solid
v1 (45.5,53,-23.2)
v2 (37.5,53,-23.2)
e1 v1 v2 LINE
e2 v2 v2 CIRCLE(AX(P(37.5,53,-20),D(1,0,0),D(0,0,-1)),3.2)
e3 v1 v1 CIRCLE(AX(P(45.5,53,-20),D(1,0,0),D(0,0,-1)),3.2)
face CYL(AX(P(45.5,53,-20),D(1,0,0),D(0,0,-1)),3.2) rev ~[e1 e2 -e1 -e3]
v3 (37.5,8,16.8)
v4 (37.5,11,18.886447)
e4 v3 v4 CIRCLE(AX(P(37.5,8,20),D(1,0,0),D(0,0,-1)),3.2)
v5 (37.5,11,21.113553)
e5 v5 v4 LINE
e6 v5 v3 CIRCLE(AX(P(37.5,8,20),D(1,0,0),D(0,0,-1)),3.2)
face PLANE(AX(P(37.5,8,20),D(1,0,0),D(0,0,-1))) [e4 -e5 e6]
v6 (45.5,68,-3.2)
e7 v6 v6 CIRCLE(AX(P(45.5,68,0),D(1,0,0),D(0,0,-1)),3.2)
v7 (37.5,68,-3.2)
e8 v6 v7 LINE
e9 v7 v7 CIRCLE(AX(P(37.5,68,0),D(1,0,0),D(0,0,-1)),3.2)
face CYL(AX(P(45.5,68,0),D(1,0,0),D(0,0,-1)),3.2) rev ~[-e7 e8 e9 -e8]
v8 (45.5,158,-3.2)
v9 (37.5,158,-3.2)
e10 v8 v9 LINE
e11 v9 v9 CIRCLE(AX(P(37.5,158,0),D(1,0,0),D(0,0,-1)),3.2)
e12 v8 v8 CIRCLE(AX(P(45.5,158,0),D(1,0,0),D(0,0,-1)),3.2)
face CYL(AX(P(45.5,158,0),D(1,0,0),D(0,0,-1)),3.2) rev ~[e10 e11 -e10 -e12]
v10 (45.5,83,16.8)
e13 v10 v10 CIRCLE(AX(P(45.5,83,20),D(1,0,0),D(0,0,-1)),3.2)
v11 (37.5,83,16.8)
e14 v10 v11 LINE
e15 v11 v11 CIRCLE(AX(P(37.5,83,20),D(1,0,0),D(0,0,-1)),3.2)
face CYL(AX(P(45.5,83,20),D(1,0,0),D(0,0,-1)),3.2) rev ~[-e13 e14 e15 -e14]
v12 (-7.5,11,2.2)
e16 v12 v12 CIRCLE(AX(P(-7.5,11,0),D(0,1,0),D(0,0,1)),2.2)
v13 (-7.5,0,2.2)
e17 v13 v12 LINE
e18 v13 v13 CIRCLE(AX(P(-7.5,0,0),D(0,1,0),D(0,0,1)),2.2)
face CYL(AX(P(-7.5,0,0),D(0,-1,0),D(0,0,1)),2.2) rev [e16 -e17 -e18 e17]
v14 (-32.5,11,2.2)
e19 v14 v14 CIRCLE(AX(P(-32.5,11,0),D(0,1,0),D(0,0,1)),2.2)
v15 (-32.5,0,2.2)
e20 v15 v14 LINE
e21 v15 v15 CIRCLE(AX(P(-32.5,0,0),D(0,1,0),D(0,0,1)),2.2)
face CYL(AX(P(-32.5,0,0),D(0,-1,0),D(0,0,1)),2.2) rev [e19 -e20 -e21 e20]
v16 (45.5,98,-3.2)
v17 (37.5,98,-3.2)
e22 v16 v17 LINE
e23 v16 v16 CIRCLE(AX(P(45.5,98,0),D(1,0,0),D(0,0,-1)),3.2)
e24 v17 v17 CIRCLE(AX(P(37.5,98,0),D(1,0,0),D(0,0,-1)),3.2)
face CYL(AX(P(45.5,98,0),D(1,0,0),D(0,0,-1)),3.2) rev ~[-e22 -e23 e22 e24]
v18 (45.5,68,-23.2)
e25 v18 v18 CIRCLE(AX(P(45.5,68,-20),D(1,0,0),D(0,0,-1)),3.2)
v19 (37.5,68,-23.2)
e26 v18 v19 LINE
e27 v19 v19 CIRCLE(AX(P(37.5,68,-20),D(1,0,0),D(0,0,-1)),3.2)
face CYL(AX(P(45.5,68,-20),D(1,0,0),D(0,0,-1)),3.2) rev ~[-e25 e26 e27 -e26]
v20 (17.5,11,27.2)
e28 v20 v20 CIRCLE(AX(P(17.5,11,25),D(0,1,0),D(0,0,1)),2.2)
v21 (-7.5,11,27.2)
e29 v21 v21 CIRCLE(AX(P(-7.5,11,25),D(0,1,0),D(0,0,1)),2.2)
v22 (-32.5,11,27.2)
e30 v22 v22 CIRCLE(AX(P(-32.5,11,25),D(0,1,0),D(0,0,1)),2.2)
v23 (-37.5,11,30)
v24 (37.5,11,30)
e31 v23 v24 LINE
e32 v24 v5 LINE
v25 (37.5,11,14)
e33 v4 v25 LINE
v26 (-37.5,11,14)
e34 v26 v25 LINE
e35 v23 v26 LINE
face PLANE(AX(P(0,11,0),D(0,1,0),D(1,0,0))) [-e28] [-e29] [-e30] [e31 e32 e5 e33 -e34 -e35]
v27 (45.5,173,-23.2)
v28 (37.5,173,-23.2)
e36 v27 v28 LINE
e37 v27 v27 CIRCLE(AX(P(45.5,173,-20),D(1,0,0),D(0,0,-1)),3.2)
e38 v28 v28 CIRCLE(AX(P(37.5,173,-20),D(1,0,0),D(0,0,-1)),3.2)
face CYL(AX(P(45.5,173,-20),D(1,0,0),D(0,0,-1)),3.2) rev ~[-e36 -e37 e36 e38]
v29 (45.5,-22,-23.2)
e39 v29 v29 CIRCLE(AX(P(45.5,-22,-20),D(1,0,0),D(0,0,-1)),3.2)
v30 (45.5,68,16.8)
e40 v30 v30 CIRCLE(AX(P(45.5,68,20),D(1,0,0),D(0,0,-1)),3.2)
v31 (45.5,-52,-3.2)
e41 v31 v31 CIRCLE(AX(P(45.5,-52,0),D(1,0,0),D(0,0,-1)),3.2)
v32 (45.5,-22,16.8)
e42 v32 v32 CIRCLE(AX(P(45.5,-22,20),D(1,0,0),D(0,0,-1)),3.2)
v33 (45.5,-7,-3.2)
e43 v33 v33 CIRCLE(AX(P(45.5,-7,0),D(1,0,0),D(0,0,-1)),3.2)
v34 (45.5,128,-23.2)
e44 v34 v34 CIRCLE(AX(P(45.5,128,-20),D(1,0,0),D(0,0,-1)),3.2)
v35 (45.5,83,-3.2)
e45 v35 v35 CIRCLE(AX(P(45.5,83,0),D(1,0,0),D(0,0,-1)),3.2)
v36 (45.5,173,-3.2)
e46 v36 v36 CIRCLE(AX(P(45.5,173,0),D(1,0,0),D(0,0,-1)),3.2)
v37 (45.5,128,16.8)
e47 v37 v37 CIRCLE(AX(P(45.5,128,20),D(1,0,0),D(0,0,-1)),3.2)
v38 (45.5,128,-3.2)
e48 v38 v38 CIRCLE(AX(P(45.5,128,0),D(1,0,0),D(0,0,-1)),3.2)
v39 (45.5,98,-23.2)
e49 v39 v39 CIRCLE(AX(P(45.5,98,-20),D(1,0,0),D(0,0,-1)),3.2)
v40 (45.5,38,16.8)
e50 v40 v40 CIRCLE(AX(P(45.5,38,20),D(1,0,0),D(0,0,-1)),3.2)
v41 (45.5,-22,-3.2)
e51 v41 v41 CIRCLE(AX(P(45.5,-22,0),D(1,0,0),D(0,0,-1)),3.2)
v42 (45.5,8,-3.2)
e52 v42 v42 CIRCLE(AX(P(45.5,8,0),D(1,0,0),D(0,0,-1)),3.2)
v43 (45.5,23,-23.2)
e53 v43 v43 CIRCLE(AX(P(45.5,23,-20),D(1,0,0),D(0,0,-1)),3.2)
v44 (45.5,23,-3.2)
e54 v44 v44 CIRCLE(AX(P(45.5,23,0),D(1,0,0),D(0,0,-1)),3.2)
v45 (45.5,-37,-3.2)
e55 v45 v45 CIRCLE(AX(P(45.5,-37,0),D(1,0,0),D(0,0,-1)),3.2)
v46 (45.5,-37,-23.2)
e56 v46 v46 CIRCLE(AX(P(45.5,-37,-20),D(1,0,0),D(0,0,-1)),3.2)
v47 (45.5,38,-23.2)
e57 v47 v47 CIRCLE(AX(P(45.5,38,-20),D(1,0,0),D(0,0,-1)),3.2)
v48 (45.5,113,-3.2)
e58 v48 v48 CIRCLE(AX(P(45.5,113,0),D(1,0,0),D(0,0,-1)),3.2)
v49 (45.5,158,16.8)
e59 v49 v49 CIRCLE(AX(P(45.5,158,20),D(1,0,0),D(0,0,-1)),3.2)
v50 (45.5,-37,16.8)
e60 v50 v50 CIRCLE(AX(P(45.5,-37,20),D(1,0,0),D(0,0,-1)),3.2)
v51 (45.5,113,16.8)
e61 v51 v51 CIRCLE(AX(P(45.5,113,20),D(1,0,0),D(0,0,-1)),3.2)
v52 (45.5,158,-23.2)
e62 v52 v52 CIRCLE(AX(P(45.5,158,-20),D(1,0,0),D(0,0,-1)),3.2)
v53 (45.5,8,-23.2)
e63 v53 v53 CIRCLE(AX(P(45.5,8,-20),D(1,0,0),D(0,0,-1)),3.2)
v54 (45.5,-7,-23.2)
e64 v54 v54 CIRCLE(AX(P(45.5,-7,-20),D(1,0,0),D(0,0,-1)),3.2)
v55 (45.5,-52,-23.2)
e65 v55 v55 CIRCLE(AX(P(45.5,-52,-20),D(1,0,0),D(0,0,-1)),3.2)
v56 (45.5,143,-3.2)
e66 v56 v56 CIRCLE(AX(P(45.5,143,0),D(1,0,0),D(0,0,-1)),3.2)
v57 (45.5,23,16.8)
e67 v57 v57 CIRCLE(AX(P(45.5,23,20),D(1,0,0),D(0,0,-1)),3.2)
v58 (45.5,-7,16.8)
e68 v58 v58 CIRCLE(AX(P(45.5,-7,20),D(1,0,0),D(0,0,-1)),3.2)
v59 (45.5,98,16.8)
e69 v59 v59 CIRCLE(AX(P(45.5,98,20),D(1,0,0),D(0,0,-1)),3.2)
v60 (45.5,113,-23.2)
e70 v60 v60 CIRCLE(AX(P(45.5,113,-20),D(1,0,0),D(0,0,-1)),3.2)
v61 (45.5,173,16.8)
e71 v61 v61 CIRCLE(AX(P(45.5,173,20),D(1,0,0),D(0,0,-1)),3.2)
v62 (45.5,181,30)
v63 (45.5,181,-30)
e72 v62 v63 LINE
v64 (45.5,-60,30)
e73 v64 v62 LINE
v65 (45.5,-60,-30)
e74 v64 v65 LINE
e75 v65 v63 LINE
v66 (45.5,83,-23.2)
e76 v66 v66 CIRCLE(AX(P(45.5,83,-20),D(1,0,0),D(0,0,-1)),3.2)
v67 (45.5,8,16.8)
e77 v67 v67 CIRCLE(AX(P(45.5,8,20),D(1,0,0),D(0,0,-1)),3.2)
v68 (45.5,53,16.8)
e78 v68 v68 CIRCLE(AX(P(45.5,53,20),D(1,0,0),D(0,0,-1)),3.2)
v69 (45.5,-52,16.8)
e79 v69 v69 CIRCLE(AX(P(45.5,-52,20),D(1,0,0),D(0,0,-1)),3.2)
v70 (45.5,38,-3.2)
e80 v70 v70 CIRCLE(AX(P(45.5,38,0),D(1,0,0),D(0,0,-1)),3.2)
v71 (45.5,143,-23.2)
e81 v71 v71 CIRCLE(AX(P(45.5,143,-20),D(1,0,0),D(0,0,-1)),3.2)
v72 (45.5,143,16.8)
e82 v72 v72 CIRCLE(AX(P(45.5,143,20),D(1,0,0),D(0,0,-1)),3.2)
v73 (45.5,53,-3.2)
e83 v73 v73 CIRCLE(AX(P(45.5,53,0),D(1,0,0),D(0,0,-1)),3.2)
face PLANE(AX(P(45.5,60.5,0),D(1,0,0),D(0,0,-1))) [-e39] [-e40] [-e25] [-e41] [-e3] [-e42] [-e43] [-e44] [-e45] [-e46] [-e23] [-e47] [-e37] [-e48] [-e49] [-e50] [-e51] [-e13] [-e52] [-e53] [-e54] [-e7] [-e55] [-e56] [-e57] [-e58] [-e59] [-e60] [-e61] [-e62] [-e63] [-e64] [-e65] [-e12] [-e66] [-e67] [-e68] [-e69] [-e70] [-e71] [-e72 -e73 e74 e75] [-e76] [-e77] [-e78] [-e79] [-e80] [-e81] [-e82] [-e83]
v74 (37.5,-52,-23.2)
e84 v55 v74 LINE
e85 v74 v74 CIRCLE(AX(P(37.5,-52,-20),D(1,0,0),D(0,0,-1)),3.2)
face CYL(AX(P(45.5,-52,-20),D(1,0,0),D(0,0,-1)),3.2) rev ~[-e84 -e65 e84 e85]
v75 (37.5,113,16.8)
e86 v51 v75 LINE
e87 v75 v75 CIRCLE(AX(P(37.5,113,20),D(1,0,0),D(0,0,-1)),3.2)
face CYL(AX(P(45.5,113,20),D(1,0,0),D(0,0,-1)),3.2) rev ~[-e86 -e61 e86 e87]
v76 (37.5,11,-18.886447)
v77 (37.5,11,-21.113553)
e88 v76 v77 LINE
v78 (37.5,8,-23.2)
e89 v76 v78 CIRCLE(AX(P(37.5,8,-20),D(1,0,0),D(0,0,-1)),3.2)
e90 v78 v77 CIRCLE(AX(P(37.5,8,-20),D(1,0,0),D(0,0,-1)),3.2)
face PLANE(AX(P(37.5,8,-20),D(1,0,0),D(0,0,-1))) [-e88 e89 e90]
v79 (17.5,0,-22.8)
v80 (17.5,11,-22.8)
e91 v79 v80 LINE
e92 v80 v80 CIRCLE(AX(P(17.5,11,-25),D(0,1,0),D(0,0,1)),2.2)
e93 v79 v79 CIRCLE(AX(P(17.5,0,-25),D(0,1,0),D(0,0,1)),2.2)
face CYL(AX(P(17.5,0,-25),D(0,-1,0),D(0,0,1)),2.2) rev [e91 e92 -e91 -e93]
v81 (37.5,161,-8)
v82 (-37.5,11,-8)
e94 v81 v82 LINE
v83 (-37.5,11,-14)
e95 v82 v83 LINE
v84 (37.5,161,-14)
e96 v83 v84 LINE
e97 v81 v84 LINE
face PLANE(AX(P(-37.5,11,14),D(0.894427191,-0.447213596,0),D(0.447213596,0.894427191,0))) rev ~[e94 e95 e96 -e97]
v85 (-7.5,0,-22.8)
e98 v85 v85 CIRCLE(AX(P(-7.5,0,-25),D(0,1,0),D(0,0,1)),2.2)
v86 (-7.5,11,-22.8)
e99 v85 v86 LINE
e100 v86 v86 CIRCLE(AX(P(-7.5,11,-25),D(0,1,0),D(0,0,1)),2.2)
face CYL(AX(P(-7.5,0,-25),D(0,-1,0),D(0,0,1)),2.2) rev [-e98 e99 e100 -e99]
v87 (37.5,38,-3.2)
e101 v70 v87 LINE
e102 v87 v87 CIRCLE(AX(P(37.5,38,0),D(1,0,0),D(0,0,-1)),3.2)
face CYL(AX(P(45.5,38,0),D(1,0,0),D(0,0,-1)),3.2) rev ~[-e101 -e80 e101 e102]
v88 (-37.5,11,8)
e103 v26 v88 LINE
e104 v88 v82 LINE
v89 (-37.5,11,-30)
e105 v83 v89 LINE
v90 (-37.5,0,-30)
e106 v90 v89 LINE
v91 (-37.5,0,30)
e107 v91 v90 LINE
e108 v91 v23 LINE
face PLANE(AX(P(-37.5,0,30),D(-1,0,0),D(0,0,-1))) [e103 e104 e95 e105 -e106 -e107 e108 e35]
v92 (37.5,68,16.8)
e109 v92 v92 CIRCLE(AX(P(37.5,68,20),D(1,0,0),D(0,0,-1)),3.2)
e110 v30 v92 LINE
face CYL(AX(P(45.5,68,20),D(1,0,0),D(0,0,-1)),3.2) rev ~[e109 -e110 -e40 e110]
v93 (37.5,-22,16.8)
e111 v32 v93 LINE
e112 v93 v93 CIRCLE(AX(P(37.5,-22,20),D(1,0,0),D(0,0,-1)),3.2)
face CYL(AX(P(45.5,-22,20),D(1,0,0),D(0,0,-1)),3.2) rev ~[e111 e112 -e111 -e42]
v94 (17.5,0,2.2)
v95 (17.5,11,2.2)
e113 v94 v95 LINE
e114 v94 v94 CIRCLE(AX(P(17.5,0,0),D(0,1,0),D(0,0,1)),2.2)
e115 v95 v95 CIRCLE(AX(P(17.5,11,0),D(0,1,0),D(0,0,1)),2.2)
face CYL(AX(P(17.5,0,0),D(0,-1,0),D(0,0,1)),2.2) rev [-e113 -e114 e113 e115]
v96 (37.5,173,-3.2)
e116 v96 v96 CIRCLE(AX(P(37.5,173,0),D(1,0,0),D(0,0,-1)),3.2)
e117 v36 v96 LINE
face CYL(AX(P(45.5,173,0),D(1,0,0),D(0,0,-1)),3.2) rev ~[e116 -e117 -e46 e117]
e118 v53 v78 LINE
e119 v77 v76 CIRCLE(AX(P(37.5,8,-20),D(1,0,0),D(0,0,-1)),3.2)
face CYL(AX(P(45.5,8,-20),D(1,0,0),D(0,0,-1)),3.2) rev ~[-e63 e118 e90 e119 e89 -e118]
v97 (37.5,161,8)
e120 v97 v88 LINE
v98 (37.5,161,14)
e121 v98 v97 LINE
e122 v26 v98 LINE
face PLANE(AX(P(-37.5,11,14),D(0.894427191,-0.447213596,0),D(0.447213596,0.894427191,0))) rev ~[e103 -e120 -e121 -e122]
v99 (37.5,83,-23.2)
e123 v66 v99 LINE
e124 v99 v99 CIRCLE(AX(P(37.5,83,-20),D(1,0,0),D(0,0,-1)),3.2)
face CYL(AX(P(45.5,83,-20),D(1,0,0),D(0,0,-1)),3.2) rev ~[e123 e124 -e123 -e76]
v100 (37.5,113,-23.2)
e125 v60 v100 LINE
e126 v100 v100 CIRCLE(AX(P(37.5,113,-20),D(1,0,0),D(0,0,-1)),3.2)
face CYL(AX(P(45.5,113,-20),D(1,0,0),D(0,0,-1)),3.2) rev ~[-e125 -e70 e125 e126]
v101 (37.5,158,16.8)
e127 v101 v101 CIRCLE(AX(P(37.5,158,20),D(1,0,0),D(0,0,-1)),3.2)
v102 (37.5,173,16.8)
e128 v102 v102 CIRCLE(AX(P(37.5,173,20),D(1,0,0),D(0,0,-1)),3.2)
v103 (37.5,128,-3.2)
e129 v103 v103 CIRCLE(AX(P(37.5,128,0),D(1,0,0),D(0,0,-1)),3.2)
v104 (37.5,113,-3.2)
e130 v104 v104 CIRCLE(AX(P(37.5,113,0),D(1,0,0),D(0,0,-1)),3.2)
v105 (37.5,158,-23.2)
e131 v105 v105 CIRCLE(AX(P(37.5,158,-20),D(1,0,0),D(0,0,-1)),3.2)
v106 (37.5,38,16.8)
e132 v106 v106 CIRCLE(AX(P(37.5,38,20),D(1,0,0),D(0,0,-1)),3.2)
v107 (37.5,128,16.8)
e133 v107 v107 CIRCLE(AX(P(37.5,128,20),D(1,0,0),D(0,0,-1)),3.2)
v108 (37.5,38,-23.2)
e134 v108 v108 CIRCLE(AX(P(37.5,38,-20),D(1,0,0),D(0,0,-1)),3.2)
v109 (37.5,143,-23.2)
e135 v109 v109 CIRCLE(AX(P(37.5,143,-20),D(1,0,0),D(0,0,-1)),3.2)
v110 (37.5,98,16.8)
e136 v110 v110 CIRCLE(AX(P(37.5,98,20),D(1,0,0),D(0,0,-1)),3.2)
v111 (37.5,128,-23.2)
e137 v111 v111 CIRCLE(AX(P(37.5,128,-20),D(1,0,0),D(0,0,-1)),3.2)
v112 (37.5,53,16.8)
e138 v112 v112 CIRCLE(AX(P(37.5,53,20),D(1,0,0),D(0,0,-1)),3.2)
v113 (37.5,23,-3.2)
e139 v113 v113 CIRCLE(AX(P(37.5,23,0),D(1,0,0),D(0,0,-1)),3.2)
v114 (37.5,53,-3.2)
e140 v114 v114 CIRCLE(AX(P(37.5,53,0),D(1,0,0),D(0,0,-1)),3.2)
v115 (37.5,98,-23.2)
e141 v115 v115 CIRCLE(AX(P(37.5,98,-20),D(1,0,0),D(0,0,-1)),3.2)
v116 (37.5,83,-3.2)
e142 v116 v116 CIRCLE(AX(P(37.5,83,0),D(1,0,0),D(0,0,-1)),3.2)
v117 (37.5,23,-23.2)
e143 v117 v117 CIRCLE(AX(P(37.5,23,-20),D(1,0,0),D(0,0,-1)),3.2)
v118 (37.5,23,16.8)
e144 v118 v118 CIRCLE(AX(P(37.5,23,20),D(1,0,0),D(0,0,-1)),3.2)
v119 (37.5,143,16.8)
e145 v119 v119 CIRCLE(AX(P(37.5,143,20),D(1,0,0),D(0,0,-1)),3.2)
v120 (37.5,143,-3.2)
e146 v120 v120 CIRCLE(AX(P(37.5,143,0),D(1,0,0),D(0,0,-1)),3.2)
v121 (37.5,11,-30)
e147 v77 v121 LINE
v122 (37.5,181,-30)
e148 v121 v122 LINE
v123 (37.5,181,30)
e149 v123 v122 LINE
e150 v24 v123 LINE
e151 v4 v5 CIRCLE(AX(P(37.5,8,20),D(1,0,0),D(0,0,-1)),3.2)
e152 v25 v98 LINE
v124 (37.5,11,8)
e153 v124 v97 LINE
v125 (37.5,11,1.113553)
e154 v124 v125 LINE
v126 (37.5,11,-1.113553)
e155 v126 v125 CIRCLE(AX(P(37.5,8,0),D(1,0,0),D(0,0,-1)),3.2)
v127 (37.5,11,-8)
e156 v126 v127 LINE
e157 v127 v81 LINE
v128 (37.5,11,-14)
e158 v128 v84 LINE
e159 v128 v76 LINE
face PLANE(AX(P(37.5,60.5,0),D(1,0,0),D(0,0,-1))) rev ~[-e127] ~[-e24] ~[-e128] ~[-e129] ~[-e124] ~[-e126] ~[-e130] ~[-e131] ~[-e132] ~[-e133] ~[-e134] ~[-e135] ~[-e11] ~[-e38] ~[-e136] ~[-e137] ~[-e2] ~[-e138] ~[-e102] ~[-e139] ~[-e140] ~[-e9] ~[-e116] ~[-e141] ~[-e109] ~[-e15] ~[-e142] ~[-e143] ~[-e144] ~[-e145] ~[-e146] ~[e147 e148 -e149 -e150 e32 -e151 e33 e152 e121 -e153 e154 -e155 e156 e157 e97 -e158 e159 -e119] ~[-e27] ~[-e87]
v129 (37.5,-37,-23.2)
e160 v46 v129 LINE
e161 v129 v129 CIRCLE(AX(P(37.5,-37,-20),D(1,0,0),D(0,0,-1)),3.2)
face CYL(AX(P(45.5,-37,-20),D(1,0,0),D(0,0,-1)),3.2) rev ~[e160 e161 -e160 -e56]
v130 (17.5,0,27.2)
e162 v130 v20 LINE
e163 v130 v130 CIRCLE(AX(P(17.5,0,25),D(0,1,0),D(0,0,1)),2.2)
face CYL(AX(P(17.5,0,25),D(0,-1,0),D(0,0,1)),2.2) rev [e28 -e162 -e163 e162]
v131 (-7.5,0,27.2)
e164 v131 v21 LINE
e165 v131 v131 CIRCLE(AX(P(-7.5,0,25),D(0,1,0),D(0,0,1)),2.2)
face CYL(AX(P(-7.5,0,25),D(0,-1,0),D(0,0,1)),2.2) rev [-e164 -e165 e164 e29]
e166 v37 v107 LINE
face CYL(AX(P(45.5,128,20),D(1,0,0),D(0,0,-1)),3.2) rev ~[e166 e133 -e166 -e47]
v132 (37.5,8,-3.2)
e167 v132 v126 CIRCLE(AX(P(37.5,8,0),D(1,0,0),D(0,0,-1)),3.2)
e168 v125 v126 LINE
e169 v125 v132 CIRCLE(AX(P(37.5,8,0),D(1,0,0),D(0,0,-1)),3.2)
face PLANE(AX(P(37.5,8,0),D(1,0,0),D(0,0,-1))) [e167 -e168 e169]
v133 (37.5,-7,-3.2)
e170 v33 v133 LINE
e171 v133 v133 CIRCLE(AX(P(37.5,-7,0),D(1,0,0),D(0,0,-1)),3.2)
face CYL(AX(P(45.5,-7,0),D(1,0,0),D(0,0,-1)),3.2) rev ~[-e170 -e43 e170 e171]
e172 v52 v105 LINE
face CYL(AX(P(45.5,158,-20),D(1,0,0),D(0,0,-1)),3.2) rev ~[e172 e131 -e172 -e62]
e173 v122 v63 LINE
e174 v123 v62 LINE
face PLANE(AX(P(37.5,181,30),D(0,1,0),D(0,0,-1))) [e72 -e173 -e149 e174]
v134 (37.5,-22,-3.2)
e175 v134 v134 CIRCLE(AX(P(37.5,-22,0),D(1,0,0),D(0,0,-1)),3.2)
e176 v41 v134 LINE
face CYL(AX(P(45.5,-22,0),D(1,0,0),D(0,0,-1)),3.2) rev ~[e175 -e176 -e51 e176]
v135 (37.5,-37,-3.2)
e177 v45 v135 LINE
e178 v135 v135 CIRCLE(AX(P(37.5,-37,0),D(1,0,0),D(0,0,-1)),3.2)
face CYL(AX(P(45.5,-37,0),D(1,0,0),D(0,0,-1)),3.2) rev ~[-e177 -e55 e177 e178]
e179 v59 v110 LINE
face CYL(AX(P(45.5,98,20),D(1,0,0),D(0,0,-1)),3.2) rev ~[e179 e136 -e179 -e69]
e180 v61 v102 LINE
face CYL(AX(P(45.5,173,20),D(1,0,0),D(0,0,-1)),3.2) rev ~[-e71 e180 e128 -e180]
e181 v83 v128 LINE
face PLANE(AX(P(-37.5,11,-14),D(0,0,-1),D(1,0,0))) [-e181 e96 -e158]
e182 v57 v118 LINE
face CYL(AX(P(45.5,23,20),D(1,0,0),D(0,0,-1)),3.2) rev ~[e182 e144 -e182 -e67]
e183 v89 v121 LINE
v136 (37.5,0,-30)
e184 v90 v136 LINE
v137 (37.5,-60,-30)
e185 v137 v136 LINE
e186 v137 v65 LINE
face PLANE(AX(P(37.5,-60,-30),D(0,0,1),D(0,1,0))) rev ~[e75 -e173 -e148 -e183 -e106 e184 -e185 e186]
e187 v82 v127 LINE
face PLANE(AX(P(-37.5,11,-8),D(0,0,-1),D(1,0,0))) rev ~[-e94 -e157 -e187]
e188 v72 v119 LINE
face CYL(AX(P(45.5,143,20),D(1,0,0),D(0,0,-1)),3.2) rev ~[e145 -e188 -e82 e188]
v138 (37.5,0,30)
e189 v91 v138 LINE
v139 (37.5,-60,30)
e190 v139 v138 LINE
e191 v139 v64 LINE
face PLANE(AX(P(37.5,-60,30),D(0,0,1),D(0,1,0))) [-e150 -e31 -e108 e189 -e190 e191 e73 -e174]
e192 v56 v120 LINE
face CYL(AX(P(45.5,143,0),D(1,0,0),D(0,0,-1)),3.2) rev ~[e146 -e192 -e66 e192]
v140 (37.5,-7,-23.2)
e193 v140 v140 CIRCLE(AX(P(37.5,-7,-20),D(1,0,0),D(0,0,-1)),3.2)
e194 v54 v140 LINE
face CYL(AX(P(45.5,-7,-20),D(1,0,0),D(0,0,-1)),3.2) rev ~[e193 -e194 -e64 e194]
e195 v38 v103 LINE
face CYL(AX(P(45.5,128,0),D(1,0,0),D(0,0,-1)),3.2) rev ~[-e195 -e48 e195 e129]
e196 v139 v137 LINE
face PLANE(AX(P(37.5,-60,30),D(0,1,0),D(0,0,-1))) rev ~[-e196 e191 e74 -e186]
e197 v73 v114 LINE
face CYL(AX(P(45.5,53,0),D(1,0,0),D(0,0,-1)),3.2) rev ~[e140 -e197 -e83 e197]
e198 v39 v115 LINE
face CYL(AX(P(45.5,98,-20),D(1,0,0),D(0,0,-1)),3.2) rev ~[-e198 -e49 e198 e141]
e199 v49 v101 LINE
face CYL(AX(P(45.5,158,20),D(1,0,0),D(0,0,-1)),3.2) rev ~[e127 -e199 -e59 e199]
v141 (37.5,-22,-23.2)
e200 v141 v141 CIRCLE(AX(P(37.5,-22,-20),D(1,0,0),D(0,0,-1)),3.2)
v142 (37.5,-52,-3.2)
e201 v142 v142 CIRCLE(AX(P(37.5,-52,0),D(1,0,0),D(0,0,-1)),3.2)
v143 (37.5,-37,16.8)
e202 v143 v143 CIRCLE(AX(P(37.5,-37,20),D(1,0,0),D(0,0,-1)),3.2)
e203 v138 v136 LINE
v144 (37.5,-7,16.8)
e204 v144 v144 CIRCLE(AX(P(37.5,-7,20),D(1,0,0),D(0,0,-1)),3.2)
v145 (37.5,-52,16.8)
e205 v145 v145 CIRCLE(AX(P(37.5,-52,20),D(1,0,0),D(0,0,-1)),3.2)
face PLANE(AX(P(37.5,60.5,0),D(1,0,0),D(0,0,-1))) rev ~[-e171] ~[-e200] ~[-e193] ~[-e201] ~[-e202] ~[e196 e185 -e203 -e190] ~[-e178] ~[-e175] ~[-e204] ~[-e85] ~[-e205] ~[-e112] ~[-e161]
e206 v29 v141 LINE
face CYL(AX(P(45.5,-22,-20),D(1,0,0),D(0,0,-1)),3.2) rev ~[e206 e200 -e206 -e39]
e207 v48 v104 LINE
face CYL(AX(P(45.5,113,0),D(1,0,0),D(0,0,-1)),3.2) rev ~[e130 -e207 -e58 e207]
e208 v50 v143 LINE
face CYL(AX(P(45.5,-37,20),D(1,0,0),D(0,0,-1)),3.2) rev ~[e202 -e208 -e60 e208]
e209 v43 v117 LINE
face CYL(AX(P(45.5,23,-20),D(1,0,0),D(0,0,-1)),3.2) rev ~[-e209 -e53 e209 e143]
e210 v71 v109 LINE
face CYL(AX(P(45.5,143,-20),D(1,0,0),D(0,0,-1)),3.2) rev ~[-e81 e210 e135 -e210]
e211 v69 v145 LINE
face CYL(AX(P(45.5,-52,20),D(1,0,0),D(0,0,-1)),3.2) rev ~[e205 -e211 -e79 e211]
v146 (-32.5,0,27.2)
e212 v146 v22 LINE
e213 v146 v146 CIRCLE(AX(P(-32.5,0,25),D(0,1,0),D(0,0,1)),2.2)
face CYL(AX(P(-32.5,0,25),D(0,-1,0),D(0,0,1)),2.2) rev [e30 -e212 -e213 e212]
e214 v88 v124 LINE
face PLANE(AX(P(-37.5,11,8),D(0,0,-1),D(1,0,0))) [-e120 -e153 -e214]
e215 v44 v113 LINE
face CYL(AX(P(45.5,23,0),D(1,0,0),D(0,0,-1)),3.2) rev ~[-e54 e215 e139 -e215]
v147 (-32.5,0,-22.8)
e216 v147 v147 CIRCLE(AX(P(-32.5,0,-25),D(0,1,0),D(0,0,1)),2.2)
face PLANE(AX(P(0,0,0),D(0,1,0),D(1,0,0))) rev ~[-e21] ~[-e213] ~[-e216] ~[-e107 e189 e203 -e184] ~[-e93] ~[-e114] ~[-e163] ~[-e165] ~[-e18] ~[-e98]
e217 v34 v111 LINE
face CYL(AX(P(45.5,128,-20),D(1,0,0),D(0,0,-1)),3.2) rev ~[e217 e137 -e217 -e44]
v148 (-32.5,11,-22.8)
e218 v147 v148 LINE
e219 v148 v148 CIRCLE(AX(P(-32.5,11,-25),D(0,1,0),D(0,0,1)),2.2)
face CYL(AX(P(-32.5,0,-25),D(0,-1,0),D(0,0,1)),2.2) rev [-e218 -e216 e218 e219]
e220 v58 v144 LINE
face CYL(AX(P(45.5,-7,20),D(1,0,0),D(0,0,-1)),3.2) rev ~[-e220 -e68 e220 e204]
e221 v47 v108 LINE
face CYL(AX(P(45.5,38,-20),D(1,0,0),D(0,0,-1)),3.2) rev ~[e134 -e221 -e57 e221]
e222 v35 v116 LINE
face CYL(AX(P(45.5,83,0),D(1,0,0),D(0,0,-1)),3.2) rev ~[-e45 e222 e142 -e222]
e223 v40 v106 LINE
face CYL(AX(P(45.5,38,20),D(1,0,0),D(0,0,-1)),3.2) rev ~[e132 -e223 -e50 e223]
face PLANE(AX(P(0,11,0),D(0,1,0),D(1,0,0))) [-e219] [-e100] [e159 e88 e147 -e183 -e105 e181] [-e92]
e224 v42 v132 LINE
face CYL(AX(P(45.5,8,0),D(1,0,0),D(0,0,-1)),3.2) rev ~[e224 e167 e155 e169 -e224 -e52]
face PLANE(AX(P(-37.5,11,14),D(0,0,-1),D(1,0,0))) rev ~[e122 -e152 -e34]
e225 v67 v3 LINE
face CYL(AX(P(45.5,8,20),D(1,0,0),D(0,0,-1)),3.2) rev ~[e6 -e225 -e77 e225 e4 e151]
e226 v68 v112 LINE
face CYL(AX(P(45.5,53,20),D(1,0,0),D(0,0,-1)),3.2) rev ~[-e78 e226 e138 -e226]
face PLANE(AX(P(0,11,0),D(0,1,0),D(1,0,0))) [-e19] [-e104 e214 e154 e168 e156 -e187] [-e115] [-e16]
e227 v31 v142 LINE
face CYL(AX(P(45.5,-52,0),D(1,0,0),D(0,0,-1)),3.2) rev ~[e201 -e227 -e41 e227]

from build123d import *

# Parameters (mm, degrees)
SKETCH1_W           = 75
SKETCH1_H           = 60
SKETCH1_R           = 2.2
BOSS_EXTRUDE1_DEPTH = 11
SKETCH2_W           = 60
SKETCH2_H           = 241
BOSS_EXTRUDE2_DEPTH = 8
SKETCH4_W           = 75
SKETCH4_H           = 6
BOSS_EXTRUDE3_DEPTH = 150
CUT_EXTRUDE1_DEPTH  = 28
SKETCH6_R           = 3.2
CUT_EXTRUDE2_DEPTH  = 8


with BuildPart() as part:
    # Sketch1 → Boss-Extrude1 (new body)
    with BuildSketch(Plane(origin=(0, 0, 0), x_dir=(1, 0, 0), z_dir=(0, 1, 0))):
        Rectangle(SKETCH1_W, SKETCH1_H)
        with Locations(Location((-7.5, 25, 0), (0, 0, 270))):
            Circle(SKETCH1_R, mode=Mode.SUBTRACT)
        with Locations(Location((-7.5, -25, 0), (0, 0, 270))):
            Circle(SKETCH1_R, mode=Mode.SUBTRACT)
        with Locations(Location((17.5, 25, 0), (0, 0, 270))):
            Circle(SKETCH1_R, mode=Mode.SUBTRACT)
        with Locations(Location((17.5, 0, 0), (0, 0, 270))):
            Circle(SKETCH1_R, mode=Mode.SUBTRACT)
        with Locations(Location((17.5, -25, 0), (0, 0, 270))):
            Circle(SKETCH1_R, mode=Mode.SUBTRACT)
        with Locations(Location((-32.5, 25, 0), (0, 0, 270))):
            Circle(SKETCH1_R, mode=Mode.SUBTRACT)
        with Locations(Location((-32.5, 0, 0), (0, 0, 270))):
            Circle(SKETCH1_R, mode=Mode.SUBTRACT)
        with Locations(Location((-32.5, -25, 0), (0, 0, 270))):
            Circle(SKETCH1_R, mode=Mode.SUBTRACT)
        with Locations(Location((-7.5, 0, 0), (0, 0, 270))):
            Circle(SKETCH1_R, mode=Mode.SUBTRACT)
    extrude(amount=BOSS_EXTRUDE1_DEPTH)

    # Sketch2 → Boss-Extrude2 (add)
    with BuildSketch(Plane(origin=(37.5, 0, 0), x_dir=(0, 0, -1), z_dir=(1, 0, 0))):
        with Locations((0, 60.5)):
            Rectangle(SKETCH2_W, SKETCH2_H)
    extrude(amount=BOSS_EXTRUDE2_DEPTH)

    # Sketch4 → Boss-Extrude3 (add)
    with BuildSketch(Plane(origin=(0, 11, 0), x_dir=(1, 0, 0), z_dir=(0, 1, 0))):
        with Locations((0, 11)):
            Rectangle(SKETCH4_W, SKETCH4_H)
        with Locations((0, -11)):
            Rectangle(SKETCH4_W, SKETCH4_H)
    extrude(amount=BOSS_EXTRUDE3_DEPTH)

    # Sketch5 → Cut-Extrude1 (cut)
    with BuildSketch(Plane.XY.offset(14)):
        Polygon((37.5, 161), (-37.5, 161), (-37.5, 11), align=None)
    extrude(amount=-CUT_EXTRUDE1_DEPTH, mode=Mode.SUBTRACT)

    # Sketch6 → Cut-Extrude2 (cut)
    with BuildSketch(Plane(origin=(45.5, 0, 0), x_dir=(0, 0, -1), z_dir=(1, 0, 0))):
        with Locations((-20, 173)):
            Circle(SKETCH6_R)
        with Locations((0, 173)):
            Circle(SKETCH6_R)
        with Locations((20, 173)):
            Circle(SKETCH6_R)
        with Locations((0, 158)):
            Circle(SKETCH6_R)
        with Locations((-20, 158)):
            Circle(SKETCH6_R)
        with Locations((20, 158)):
            Circle(SKETCH6_R)
        with Locations((-20, 143)):
            Circle(SKETCH6_R)
        with Locations((0, 143)):
            Circle(SKETCH6_R)
        with Locations((20, 143)):
            Circle(SKETCH6_R)
        with Locations((-20, 128)):
            Circle(SKETCH6_R)
        with Locations((0, 128)):
            Circle(SKETCH6_R)
        with Locations((20, 128)):
            Circle(SKETCH6_R)
        with Locations((-20, 113)):
            Circle(SKETCH6_R)
        with Locations((0, 113)):
            Circle(SKETCH6_R)
        with Locations((20, 113)):
            Circle(SKETCH6_R)
        with Locations((20, 98)):
            Circle(SKETCH6_R)
        with Locations((0, 98)):
            Circle(SKETCH6_R)
        with Locations((-20, 98)):
            Circle(SKETCH6_R)
        with Locations((-20, 83)):
            Circle(SKETCH6_R)
        with Locations((0, 83)):
            Circle(SKETCH6_R)
        with Locations((20, 83)):
            Circle(SKETCH6_R)
        with Locations((20, 68)):
            Circle(SKETCH6_R)
        with Locations((0, 68)):
            Circle(SKETCH6_R)
        with Locations((-20, 68)):
            Circle(SKETCH6_R)
        with Locations((-20, 53)):
            Circle(SKETCH6_R)
        with Locations((0, 53)):
            Circle(SKETCH6_R)
        with Locations((20, 53)):
            Circle(SKETCH6_R)
        with Locations((20, 38)):
            Circle(SKETCH6_R)
        with Locations((0, 38)):
            Circle(SKETCH6_R)
        with Locations((-20, 38)):
            Circle(SKETCH6_R)
        with Locations((-20, 23)):
            Circle(SKETCH6_R)
        with Locations((0, 23)):
            Circle(SKETCH6_R)
        with Locations((20, 23)):
            Circle(SKETCH6_R)
        with Locations((20, 8)):
            Circle(SKETCH6_R)
        with Locations((-20, 8)):
            Circle(SKETCH6_R)
        with Locations((0, 8)):
            Circle(SKETCH6_R)
        with Locations((-20, -7)):
            Circle(SKETCH6_R)
        with Locations((0, -7)):
            Circle(SKETCH6_R)
        with Locations((20, -7)):
            Circle(SKETCH6_R)
        with Locations((20, -22)):
            Circle(SKETCH6_R)
        with Locations((0, -22)):
            Circle(SKETCH6_R)
        with Locations((-20, -22)):
            Circle(SKETCH6_R)
        with Locations((-20, -37)):
            Circle(SKETCH6_R)
        with Locations((0, -37)):
            Circle(SKETCH6_R)
        with Locations((20, -37)):
            Circle(SKETCH6_R)
        with Locations((20, -52)):
            Circle(SKETCH6_R)
        with Locations((0, -52)):
            Circle(SKETCH6_R)
        with Locations((-20, -52)):
            Circle(SKETCH6_R)
    extrude(amount=-CUT_EXTRUDE2_DEPTH, mode=Mode.SUBTRACT)


solid = part.part
